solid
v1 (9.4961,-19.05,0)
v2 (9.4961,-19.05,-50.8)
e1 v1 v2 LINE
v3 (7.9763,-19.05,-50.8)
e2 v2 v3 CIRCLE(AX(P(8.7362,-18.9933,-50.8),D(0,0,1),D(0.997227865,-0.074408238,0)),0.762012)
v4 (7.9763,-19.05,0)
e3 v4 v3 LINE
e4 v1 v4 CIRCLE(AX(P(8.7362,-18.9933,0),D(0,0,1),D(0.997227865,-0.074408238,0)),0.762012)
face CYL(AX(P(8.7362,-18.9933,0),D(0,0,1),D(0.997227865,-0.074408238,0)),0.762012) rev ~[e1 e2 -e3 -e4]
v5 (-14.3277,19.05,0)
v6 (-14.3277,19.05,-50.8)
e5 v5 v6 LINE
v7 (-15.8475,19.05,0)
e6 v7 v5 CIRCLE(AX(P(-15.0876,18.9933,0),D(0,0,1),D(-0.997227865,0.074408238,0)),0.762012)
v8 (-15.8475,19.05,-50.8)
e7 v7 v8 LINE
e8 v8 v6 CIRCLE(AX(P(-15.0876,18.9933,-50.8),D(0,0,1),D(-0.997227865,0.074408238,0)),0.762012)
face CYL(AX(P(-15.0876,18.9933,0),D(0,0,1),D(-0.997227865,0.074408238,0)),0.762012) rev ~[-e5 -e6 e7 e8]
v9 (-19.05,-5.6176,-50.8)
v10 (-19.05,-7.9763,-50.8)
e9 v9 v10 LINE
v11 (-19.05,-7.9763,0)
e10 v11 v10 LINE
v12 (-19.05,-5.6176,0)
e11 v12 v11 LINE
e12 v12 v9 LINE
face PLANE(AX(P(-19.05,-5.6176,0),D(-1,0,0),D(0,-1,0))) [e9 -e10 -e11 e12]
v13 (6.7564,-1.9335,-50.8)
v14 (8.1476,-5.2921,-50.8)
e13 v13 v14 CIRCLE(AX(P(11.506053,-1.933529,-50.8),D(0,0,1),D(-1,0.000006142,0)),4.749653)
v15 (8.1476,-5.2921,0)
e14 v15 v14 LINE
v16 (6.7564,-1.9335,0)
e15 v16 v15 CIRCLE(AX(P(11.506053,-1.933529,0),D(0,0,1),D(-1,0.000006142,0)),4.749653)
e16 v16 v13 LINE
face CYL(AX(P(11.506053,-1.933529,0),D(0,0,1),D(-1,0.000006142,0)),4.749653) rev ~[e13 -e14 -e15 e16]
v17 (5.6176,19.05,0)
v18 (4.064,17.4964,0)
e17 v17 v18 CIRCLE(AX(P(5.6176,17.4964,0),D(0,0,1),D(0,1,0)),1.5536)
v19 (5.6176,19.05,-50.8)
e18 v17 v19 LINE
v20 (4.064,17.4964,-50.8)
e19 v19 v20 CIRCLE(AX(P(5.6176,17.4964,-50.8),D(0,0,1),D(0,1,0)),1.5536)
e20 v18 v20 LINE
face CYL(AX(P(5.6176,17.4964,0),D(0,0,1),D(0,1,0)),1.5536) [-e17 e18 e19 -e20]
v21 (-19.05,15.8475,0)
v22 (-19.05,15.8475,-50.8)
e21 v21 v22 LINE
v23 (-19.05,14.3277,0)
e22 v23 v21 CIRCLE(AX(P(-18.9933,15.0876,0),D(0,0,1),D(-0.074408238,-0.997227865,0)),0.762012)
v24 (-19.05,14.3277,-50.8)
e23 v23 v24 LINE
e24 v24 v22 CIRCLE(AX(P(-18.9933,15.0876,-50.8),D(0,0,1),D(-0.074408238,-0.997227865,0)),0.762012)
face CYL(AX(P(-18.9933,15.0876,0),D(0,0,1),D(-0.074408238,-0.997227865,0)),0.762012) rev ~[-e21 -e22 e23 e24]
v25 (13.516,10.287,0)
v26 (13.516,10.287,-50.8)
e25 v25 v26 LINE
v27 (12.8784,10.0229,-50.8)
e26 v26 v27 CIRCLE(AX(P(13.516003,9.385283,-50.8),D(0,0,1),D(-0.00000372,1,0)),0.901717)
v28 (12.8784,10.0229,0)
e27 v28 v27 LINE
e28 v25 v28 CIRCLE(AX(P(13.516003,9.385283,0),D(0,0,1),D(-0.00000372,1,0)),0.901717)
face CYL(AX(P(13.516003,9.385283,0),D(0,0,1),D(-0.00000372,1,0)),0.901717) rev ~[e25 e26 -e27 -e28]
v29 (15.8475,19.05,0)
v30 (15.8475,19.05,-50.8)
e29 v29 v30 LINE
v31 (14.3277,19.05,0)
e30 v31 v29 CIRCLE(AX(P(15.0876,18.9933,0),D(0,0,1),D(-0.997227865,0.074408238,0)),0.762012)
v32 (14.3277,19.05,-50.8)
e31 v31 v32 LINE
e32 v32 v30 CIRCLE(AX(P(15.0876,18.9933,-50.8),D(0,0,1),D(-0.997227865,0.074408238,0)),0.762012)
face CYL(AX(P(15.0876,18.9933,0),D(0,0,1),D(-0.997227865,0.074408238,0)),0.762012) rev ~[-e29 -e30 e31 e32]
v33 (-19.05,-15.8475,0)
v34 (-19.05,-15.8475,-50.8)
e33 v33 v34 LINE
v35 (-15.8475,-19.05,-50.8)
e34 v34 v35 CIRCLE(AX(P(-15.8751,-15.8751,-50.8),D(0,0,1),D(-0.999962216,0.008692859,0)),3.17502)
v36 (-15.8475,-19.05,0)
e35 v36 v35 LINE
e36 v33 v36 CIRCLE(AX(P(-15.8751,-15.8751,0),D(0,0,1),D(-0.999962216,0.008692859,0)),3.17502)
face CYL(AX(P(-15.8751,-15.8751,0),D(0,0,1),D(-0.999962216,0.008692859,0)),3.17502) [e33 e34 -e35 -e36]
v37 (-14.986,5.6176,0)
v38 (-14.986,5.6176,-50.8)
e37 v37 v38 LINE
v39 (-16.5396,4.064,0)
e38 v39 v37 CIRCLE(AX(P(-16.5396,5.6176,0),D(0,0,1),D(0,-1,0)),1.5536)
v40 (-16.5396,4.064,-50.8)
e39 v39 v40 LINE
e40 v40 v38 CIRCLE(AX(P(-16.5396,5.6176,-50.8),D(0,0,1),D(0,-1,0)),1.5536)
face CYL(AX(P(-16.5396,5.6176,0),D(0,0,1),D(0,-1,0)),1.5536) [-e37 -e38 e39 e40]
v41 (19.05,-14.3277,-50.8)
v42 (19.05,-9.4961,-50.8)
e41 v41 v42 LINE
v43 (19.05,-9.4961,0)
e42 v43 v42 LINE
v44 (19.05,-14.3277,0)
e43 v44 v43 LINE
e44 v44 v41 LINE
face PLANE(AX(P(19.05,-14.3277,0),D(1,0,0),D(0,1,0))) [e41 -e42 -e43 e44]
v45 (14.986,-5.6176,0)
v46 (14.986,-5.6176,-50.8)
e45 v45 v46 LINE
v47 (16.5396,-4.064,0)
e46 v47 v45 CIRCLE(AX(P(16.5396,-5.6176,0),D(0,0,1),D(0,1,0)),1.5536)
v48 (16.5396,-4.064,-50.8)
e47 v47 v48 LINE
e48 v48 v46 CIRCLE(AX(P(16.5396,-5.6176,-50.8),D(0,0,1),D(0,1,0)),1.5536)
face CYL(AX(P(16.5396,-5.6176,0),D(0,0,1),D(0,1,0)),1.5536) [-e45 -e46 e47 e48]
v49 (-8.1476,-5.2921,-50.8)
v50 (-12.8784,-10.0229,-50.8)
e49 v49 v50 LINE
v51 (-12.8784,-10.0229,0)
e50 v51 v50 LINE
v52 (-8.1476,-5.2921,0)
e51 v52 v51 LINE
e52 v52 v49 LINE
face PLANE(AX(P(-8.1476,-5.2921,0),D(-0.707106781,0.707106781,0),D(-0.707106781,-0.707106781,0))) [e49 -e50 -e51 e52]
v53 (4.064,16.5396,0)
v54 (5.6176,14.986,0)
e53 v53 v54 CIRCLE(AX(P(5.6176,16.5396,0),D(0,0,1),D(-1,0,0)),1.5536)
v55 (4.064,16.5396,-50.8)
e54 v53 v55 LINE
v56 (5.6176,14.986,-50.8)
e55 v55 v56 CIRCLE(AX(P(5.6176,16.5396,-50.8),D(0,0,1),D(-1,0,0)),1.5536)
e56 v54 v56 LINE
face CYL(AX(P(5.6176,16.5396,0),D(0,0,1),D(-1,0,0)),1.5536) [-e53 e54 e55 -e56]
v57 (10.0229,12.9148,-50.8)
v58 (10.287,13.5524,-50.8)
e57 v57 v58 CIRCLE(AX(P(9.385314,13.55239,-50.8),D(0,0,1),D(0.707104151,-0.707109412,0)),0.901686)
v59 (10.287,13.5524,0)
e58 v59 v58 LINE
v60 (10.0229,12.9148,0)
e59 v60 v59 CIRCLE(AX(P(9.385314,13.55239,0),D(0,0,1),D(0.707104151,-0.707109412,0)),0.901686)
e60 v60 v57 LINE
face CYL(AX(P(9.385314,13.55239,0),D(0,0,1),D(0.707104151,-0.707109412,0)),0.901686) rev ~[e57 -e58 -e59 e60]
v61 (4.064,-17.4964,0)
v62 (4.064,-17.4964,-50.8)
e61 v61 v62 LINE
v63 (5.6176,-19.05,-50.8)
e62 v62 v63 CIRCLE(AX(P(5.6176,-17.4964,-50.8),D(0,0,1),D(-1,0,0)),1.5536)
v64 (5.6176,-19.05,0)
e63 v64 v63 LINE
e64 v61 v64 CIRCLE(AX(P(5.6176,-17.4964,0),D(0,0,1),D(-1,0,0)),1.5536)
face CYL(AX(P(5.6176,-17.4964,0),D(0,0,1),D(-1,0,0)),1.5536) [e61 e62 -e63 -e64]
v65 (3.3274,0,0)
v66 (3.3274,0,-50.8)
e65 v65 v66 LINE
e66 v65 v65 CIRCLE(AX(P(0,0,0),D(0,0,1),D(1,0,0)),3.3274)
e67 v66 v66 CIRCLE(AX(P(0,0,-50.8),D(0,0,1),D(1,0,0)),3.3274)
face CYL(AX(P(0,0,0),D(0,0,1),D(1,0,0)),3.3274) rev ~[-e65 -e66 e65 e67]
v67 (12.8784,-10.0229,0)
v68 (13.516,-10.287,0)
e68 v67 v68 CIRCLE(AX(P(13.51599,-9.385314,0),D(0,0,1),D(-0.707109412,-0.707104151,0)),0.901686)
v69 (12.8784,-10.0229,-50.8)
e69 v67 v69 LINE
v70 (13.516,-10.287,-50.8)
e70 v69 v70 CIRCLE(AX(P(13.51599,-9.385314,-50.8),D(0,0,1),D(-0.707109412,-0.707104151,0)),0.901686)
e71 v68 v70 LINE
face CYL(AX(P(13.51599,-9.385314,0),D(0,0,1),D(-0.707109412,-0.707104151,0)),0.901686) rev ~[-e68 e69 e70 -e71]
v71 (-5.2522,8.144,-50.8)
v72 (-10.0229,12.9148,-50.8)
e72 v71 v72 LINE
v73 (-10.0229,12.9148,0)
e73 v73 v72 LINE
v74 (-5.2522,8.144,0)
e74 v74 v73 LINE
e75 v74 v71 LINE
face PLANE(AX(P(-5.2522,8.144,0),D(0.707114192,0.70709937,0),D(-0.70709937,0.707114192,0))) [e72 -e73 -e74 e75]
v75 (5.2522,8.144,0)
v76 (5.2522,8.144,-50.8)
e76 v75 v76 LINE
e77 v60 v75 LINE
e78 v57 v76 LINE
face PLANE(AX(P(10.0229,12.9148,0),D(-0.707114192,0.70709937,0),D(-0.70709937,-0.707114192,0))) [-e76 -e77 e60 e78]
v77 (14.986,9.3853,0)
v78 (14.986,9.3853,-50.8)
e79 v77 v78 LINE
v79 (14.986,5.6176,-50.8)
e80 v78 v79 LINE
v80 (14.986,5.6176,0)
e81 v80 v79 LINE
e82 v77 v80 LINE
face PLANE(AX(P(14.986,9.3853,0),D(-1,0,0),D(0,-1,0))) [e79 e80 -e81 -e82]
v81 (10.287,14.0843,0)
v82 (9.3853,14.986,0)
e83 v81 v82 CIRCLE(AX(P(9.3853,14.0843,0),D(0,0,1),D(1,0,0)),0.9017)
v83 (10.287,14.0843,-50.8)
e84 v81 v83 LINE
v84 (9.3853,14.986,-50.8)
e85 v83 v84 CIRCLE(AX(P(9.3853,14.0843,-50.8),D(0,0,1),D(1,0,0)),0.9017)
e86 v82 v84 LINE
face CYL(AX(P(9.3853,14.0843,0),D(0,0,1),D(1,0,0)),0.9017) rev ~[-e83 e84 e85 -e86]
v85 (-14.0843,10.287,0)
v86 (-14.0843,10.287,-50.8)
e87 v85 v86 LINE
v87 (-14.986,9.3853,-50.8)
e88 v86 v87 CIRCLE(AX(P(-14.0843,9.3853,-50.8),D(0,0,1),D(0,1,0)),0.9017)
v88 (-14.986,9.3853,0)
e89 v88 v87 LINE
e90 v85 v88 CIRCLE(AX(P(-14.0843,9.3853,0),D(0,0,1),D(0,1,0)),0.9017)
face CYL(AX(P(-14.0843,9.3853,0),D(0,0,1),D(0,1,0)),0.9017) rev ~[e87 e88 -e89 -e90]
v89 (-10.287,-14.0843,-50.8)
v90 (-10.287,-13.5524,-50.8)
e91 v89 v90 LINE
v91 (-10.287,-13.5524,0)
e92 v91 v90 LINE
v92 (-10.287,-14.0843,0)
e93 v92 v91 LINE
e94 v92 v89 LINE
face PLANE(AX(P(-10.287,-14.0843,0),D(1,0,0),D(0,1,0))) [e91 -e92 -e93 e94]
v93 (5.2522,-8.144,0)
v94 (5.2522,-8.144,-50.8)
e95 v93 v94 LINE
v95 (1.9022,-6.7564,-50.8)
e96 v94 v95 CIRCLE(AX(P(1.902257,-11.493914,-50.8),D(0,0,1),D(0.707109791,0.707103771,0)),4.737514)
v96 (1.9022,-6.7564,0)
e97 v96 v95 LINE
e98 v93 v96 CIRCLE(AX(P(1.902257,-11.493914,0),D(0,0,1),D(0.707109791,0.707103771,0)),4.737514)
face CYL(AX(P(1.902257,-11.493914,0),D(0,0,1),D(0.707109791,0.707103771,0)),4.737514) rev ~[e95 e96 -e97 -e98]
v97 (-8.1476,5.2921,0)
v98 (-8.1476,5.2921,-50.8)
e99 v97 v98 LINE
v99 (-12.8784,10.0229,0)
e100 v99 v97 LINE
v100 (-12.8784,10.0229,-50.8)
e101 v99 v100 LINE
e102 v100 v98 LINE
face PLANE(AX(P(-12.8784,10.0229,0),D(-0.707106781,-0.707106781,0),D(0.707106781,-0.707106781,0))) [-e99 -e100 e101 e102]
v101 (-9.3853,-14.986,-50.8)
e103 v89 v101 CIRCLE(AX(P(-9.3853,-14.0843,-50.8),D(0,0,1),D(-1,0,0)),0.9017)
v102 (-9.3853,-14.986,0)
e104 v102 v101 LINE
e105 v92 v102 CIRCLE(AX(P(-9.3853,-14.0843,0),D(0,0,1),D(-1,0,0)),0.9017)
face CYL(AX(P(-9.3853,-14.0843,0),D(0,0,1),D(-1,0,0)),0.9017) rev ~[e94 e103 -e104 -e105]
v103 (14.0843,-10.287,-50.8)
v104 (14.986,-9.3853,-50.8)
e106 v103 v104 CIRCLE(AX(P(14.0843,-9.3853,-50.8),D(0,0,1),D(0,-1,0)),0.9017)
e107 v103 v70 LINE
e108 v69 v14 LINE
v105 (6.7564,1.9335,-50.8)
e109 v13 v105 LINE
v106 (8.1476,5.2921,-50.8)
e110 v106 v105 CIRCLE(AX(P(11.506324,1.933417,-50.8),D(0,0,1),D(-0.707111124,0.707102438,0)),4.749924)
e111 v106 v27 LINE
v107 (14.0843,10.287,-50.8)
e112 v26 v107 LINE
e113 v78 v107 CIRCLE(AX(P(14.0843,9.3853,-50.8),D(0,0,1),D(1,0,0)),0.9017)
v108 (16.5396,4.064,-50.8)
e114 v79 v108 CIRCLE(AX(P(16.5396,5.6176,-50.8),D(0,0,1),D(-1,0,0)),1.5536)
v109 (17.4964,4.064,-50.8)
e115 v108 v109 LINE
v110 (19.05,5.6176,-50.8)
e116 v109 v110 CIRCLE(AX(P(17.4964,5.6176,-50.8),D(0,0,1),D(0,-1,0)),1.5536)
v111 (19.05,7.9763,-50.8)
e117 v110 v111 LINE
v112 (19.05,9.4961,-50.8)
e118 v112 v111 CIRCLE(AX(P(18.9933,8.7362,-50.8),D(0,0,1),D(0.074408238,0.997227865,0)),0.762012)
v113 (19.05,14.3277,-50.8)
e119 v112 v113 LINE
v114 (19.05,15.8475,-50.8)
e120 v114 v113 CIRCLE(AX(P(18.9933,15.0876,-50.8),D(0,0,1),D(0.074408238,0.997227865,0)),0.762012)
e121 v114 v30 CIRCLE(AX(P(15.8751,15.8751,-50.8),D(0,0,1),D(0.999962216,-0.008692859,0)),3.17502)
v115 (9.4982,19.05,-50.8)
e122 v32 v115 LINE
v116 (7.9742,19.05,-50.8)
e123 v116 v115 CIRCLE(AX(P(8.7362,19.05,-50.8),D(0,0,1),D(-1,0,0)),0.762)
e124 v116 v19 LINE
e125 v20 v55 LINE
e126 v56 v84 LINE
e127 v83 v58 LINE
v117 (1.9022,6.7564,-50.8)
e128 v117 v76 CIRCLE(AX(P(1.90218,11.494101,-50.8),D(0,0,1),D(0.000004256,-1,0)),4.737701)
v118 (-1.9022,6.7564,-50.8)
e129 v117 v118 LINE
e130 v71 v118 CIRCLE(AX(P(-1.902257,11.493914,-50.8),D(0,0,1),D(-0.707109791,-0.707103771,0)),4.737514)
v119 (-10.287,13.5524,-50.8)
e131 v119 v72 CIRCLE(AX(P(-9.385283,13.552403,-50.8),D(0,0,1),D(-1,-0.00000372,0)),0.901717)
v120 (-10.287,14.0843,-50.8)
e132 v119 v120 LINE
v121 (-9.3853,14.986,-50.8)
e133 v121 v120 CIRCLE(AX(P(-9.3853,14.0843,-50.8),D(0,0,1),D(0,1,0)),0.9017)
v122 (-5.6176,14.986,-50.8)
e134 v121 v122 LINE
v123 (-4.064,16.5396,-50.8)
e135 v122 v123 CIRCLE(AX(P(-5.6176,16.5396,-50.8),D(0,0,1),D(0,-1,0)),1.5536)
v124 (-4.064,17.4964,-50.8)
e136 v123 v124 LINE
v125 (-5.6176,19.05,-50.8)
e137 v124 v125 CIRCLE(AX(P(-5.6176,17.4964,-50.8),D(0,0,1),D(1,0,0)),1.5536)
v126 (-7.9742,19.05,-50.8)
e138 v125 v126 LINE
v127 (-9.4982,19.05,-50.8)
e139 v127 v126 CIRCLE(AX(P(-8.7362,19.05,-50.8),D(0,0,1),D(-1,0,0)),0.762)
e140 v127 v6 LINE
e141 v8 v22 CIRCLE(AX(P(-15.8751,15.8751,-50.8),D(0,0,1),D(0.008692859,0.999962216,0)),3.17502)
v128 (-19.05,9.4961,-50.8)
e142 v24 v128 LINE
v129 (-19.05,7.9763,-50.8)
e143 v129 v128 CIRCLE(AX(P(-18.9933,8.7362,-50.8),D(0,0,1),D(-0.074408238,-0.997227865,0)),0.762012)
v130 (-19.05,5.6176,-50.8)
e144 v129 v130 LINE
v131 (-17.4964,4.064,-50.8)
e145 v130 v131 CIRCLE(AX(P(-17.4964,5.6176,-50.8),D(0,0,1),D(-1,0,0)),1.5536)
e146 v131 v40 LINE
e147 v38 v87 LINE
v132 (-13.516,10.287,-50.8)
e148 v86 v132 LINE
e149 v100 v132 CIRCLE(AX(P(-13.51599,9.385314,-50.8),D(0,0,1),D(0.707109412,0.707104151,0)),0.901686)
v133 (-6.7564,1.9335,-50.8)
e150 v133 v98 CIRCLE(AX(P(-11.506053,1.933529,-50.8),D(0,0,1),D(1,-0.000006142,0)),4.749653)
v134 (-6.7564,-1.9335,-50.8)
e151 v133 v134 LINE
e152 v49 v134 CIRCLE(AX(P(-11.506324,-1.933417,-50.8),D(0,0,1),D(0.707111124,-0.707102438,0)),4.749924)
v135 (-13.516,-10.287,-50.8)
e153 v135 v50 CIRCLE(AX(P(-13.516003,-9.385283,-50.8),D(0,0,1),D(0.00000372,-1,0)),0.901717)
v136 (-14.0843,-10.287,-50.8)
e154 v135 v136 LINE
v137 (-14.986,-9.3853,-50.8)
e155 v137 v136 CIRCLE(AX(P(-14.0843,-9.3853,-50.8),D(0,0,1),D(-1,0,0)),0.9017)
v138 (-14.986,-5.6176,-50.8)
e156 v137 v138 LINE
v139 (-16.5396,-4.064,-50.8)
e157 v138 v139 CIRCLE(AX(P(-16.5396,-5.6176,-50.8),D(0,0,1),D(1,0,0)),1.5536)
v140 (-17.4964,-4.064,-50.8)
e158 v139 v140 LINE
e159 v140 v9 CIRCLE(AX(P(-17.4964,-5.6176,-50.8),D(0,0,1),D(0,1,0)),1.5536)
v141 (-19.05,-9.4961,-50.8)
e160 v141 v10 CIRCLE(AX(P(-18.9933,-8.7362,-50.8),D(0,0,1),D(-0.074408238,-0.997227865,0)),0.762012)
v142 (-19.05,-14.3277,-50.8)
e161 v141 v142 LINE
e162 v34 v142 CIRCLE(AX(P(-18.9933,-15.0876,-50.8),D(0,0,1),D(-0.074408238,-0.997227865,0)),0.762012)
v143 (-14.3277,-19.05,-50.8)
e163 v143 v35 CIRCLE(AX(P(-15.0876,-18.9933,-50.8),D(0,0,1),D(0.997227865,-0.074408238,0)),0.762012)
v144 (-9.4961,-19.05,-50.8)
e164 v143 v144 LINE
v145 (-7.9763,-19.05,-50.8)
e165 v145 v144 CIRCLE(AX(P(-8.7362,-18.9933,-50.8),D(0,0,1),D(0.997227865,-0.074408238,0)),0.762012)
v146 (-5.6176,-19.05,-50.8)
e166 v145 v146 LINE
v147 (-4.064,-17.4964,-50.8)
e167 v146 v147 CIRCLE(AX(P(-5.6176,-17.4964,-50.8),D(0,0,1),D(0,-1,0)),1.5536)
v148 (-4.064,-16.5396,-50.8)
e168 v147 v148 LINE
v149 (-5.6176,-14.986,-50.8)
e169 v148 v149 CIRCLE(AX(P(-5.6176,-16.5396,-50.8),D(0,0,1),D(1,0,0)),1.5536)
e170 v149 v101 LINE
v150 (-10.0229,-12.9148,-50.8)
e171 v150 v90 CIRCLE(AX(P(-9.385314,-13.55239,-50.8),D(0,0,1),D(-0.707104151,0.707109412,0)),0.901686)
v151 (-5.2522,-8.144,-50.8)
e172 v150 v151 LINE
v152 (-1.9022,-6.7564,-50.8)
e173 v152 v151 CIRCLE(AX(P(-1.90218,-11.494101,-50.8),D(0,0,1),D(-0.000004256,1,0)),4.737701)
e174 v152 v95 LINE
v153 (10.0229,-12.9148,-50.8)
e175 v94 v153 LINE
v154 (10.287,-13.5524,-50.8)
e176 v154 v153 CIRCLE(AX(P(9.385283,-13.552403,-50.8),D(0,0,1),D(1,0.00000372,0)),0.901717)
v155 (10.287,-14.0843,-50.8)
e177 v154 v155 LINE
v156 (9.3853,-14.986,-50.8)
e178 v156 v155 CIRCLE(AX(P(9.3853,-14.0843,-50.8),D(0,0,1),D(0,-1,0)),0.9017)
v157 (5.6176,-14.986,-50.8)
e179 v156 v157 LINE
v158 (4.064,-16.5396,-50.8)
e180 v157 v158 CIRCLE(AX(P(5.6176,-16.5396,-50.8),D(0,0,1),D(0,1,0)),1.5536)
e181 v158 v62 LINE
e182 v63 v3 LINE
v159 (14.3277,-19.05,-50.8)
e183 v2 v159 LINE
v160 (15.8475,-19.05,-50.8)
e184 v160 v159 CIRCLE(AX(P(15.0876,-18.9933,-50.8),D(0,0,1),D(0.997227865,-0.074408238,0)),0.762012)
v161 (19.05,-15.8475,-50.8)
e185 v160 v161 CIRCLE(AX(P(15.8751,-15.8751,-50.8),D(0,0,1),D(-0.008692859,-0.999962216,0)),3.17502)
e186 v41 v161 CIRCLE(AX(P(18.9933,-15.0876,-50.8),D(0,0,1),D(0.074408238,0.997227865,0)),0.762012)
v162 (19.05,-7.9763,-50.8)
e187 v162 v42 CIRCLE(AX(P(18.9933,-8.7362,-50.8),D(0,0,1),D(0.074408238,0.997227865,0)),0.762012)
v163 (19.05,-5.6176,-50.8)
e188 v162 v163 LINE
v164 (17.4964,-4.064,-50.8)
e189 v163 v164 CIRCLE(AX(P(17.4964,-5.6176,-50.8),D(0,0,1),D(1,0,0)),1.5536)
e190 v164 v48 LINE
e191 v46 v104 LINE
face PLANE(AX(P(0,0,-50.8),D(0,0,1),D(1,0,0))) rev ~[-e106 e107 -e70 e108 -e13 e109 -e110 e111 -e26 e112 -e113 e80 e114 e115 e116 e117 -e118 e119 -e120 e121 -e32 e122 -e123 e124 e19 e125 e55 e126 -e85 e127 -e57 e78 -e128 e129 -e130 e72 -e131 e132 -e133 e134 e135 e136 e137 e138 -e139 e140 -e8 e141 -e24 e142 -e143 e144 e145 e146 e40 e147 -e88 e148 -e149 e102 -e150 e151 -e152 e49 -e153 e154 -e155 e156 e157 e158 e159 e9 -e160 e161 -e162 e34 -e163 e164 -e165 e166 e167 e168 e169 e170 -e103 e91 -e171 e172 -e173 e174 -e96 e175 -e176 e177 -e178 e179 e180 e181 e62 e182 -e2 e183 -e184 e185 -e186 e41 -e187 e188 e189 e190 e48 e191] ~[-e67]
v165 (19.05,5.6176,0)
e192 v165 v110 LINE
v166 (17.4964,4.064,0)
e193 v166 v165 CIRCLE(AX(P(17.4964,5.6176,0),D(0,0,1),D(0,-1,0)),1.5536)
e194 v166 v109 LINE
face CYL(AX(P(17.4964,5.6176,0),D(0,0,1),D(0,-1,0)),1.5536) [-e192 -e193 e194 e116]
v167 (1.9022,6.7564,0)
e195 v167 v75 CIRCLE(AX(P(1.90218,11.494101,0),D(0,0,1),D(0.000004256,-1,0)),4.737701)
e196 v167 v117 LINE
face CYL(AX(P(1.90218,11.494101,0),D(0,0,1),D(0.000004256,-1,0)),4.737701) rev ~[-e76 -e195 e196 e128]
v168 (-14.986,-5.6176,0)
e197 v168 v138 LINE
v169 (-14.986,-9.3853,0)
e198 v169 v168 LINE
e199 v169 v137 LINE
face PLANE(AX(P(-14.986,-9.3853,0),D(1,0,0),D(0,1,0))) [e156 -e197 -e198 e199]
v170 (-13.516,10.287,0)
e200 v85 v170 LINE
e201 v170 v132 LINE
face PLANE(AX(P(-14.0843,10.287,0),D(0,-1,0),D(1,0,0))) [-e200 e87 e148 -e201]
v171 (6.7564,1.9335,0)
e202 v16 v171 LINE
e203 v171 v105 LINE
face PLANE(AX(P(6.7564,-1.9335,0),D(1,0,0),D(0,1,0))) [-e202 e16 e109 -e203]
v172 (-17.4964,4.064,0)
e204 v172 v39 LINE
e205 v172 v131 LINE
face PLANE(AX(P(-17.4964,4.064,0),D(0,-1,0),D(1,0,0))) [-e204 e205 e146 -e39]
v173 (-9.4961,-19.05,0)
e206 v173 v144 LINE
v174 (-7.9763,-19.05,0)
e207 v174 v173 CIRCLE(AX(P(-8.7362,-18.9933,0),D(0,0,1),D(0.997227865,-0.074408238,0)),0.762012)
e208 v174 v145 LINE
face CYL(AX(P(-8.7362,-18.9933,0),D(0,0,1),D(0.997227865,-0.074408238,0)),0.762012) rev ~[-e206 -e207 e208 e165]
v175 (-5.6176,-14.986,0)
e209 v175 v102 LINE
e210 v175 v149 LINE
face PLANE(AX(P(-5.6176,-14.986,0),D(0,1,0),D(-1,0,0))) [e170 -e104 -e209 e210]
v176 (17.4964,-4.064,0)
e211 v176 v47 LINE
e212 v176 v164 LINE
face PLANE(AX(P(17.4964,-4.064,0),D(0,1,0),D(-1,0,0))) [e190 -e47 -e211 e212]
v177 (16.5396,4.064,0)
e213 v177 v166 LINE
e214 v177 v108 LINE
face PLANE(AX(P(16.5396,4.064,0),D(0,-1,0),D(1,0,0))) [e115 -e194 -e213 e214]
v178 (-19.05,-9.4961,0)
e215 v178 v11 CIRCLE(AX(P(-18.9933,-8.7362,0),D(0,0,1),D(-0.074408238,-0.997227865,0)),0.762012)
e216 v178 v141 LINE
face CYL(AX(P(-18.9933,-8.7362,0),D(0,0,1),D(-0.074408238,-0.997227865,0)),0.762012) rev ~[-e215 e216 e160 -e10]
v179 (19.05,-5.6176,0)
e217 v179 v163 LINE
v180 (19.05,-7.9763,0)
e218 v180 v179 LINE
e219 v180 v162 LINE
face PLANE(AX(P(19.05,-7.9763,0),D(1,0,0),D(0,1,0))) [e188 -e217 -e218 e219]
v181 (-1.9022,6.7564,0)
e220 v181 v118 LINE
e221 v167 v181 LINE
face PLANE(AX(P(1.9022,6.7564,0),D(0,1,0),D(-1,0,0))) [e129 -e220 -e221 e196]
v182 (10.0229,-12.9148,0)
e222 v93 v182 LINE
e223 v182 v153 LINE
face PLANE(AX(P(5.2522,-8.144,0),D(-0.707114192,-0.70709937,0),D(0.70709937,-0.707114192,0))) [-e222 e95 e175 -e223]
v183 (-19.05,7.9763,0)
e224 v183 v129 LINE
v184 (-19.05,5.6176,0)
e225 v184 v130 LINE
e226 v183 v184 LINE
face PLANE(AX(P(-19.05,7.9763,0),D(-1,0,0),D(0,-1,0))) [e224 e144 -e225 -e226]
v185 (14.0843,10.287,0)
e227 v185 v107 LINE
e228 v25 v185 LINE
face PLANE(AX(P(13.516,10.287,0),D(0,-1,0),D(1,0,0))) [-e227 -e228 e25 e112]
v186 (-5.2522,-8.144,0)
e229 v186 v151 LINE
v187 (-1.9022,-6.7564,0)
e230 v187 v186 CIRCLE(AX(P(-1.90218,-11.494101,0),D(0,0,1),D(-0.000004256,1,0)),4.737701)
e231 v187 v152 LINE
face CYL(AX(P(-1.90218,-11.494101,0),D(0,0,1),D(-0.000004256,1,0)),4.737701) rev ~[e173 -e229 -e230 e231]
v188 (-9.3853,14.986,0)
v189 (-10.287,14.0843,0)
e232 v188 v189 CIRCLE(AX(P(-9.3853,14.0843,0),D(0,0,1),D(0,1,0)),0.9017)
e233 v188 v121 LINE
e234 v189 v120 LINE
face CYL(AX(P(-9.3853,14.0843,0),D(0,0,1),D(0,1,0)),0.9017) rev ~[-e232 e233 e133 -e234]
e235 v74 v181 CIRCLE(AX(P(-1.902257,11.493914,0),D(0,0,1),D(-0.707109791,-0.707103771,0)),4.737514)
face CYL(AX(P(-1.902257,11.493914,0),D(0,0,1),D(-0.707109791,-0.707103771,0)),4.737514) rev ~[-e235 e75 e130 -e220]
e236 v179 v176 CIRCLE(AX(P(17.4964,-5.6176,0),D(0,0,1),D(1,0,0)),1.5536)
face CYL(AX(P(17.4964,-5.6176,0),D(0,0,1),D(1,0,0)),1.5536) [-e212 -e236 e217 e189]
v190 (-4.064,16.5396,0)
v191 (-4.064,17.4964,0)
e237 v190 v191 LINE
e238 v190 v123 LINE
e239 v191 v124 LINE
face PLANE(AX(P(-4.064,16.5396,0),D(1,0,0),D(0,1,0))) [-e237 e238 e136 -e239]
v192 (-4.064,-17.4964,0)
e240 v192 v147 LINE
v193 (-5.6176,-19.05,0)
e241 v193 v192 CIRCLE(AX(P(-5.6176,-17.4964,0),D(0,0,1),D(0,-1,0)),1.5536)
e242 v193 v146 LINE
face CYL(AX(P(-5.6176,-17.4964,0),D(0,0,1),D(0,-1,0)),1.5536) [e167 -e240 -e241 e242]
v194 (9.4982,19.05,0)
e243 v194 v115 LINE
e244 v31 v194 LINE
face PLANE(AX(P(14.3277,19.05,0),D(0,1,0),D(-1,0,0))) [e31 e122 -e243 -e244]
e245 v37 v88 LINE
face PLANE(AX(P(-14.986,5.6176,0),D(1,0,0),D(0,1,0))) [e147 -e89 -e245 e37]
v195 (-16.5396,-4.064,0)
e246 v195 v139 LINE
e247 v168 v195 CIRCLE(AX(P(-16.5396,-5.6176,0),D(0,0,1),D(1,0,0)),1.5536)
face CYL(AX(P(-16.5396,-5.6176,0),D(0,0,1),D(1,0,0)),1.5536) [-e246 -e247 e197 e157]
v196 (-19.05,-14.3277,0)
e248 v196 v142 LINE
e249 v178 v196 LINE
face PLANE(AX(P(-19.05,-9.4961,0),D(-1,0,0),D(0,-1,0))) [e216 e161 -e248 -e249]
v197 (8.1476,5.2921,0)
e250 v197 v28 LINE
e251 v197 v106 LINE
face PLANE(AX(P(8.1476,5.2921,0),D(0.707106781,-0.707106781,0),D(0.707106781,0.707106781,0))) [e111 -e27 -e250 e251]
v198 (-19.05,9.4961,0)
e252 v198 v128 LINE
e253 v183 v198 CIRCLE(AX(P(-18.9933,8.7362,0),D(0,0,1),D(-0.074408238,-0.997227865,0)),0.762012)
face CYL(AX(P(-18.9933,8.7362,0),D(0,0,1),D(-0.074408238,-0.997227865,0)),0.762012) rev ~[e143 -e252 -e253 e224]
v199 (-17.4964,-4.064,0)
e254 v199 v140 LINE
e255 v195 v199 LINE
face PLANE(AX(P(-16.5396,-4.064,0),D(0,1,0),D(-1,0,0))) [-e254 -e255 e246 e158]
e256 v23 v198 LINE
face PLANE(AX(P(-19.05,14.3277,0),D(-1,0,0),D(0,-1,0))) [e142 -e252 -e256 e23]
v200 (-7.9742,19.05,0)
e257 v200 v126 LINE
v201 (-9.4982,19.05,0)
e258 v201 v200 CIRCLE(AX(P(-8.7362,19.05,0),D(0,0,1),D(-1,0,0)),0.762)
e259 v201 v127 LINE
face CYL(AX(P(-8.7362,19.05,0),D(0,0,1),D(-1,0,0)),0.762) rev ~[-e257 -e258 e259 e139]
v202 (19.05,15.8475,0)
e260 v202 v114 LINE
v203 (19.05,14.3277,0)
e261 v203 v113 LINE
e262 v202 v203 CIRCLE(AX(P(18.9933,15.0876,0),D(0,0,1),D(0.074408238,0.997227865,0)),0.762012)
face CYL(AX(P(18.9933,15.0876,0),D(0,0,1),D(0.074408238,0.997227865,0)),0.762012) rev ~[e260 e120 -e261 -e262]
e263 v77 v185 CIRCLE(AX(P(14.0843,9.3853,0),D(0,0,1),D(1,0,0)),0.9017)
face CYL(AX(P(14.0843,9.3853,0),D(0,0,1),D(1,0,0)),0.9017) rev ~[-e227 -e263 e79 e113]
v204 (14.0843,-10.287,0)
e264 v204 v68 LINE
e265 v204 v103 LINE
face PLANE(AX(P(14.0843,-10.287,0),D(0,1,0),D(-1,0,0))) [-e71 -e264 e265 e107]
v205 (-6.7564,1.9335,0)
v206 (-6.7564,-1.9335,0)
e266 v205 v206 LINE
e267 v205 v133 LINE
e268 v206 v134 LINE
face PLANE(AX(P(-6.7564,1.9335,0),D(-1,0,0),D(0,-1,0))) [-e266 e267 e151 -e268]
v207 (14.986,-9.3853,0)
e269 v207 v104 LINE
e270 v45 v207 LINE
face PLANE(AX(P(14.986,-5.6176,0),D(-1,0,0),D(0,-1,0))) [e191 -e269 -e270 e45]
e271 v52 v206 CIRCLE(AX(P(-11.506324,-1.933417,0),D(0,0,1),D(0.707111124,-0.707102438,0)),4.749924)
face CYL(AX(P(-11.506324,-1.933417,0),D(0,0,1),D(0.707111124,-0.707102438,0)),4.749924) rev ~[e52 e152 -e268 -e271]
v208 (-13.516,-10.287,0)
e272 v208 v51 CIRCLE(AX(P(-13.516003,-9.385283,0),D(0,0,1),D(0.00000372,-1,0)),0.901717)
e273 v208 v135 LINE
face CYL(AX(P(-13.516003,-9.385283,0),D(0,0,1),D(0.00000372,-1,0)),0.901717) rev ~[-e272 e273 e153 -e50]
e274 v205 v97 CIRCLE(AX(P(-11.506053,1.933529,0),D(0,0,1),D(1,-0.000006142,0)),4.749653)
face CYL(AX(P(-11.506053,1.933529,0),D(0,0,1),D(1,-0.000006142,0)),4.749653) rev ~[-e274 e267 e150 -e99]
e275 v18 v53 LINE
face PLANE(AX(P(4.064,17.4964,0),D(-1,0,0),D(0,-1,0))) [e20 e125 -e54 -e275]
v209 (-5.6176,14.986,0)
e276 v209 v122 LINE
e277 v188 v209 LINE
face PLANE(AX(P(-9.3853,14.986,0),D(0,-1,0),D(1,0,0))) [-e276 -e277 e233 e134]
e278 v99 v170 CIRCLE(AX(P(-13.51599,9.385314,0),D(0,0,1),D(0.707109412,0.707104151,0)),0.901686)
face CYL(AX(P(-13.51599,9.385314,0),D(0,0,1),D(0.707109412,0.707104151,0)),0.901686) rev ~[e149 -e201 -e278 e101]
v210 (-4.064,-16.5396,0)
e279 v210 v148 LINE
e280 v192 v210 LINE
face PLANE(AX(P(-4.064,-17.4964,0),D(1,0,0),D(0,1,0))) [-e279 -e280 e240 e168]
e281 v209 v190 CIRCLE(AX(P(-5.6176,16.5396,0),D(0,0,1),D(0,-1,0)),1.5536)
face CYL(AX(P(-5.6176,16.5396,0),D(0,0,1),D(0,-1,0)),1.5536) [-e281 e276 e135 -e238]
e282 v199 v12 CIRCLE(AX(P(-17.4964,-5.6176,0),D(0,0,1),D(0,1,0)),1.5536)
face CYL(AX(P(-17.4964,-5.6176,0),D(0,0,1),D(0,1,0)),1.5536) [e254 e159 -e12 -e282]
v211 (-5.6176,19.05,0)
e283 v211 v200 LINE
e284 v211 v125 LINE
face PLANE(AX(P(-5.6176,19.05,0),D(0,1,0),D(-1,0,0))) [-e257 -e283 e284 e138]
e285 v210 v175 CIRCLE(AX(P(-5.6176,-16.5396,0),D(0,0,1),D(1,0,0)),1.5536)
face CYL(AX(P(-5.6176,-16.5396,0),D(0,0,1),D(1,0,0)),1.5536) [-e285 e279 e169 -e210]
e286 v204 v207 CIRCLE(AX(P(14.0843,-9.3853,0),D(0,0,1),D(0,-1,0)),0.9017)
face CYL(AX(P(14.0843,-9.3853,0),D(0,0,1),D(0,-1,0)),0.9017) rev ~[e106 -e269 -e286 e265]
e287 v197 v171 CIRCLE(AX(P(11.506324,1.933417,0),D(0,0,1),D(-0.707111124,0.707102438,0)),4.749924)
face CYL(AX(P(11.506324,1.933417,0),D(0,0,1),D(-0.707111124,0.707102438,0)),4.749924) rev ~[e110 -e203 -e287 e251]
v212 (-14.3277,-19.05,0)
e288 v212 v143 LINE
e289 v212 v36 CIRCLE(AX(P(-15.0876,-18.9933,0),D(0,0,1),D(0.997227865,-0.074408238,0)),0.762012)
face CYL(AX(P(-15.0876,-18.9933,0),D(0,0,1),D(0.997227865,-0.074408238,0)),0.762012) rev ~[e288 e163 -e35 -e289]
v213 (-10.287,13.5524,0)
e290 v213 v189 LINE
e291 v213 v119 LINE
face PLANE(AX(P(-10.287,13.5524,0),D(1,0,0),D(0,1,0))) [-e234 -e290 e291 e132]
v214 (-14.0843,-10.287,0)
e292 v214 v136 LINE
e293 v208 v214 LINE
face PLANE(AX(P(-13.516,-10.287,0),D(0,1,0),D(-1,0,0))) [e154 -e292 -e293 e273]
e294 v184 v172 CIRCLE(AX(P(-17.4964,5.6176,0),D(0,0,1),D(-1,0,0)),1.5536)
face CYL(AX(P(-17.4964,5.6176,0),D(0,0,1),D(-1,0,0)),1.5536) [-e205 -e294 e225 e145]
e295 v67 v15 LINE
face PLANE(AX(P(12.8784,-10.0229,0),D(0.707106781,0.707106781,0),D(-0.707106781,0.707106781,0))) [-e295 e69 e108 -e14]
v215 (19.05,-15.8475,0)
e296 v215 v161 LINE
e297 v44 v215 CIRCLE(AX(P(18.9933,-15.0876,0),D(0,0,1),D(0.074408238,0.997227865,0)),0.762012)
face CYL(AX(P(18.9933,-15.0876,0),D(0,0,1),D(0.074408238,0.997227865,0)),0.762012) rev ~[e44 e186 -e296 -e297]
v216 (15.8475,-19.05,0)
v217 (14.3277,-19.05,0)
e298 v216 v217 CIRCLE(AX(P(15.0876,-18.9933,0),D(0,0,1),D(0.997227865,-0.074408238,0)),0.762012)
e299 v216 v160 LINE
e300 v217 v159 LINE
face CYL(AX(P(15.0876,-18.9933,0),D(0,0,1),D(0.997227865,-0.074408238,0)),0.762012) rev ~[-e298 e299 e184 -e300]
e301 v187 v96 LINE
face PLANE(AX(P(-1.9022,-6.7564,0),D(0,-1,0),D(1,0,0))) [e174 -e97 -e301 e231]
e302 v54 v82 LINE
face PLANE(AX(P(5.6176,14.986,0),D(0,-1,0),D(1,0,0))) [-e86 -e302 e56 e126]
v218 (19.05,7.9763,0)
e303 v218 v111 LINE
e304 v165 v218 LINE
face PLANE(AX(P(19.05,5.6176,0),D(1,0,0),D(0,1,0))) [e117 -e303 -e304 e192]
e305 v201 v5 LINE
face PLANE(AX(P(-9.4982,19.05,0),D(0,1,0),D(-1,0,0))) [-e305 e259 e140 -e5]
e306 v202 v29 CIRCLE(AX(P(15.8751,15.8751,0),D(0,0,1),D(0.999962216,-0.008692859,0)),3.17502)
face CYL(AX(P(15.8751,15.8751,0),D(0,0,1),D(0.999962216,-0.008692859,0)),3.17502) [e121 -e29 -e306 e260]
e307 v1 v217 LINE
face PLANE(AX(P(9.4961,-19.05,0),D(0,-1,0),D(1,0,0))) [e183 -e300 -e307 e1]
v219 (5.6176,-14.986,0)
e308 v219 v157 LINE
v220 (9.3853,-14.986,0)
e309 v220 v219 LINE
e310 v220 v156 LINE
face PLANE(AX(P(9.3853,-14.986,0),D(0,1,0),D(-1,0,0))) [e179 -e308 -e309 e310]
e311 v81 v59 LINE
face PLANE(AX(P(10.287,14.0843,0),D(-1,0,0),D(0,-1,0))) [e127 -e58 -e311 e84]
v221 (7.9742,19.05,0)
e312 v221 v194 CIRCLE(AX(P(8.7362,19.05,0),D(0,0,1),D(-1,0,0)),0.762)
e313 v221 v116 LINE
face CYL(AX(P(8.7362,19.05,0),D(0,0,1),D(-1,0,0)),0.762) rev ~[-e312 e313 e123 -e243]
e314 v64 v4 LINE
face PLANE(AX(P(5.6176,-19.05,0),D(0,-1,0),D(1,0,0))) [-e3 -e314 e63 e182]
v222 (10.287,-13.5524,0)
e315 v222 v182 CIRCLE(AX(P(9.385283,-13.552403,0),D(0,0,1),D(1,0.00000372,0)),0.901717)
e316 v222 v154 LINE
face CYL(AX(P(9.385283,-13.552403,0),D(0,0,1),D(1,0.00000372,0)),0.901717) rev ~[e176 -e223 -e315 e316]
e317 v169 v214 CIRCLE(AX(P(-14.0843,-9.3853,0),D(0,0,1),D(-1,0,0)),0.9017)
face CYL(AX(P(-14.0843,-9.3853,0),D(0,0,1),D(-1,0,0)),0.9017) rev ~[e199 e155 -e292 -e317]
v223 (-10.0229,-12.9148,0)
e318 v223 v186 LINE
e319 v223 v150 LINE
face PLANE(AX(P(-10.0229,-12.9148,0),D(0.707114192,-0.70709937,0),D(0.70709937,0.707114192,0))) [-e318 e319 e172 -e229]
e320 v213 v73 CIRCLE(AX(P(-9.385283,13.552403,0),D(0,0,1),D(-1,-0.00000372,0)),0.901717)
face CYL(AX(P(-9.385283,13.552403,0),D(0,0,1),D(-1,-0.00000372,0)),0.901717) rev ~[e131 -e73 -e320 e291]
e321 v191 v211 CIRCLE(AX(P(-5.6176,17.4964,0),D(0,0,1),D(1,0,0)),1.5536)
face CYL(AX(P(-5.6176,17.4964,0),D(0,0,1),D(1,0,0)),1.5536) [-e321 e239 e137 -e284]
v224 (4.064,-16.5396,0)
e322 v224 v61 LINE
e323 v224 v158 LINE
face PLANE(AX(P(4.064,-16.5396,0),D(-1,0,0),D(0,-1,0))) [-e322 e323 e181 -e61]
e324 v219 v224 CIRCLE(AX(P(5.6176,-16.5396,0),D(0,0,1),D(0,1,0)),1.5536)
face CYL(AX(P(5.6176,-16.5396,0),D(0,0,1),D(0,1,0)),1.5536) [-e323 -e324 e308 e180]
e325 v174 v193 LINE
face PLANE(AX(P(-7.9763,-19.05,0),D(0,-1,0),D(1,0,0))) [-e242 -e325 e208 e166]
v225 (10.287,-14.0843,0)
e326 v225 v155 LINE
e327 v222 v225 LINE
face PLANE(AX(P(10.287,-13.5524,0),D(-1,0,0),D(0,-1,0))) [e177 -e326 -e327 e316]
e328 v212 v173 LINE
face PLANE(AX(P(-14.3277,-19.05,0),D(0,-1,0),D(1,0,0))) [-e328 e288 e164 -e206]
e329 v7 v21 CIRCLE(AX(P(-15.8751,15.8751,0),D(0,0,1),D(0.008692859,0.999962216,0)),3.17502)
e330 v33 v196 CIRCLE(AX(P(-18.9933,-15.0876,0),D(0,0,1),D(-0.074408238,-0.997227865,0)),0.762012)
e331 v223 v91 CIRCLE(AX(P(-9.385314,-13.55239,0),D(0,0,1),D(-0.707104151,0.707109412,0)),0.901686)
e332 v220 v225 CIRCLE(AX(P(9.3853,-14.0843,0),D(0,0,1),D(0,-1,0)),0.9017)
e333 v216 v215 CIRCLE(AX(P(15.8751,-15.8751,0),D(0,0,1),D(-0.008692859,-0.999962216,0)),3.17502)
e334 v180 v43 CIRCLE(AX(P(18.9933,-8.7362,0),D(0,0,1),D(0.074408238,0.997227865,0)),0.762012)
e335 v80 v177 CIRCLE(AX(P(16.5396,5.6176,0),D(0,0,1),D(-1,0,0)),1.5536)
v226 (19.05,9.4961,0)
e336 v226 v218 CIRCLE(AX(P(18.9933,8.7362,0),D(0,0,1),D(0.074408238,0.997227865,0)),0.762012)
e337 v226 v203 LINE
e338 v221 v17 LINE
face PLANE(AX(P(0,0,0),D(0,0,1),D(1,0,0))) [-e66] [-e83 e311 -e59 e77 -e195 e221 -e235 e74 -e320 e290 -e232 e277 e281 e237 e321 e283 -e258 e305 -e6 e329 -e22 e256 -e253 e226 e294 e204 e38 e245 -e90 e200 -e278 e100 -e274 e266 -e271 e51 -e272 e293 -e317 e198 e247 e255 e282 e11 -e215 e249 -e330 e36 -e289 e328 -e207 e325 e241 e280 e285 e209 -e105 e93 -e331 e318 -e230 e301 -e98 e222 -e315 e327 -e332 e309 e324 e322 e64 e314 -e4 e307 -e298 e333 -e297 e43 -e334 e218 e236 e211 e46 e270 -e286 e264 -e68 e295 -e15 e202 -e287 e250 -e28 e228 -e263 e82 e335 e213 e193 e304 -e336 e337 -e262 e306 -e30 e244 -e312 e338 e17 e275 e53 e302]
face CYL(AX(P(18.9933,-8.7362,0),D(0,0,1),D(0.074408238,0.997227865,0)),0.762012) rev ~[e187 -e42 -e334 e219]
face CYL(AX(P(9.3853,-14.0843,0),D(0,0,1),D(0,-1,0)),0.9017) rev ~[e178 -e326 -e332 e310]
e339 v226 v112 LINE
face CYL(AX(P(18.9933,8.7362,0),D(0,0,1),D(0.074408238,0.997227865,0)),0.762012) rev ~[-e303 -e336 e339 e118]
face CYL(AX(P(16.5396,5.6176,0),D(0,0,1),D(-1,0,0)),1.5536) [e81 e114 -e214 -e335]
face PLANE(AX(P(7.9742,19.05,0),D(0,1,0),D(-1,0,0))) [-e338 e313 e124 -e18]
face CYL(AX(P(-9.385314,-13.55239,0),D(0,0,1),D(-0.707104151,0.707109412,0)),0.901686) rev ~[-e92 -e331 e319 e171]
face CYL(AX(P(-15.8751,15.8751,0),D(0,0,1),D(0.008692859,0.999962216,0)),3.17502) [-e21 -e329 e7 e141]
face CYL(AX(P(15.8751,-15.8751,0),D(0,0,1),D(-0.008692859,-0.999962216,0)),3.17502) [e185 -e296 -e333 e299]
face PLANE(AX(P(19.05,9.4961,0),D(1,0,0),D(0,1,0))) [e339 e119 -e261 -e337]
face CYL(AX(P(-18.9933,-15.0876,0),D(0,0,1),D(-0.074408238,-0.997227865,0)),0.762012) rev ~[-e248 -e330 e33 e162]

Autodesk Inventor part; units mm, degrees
sketch "Sketch_1" plane through (0, 0, 0) normal (0, 0, 1) x (1, 0, 0)
  arc A0 (-15.8475, 19.05) -> (-19.05, 15.8475) centre (-15.8751, 15.8751) ccw
  arc A1 (-19.05, 14.3277) -> (-19.05, 15.8475) centre (-18.9933, 15.0876) ccw
  line L0 (-19.05, 14.3277) -> (-19.05, 9.4961)
  arc A2 (-19.05, 7.9763) -> (-19.05, 9.4961) centre (-18.9933, 8.7362) ccw
  line L1 (-19.05, 7.9763) -> (-19.05, 5.6176)
  arc A3 (-19.05, 5.6176) -> (-17.4964, 4.064) centre (-17.4964, 5.6176) ccw
  line L2 (-17.4964, 4.064) -> (-16.5396, 4.064)
  arc A4 (-16.5396, 4.064) -> (-14.986, 5.6176) centre (-16.5396, 5.6176) ccw
  line L3 (-14.986, 5.6176) -> (-14.986, 9.3853)
  arc A5 (-14.0843, 10.287) -> (-14.986, 9.3853) centre (-14.0843, 9.3853) ccw
  line L4 (-14.0843, 10.287) -> (-13.516, 10.287)
  arc A6 (-12.8784, 10.0229) -> (-13.516, 10.287) centre (-13.516, 9.3853) ccw
  line L5 (-12.8784, 10.0229) -> (-8.1476, 5.2921)
  arc A7 (-6.7564, 1.9335) -> (-8.1476, 5.2921) centre (-11.5062, 1.9335) ccw
  line L6 (-6.7564, 1.9335) -> (-6.7564, -1.9335)
  arc A8 (-8.1476, -5.2921) -> (-6.7564, -1.9335) centre (-11.5062, -1.9335) ccw
  line L7 (-8.1476, -5.2921) -> (-12.8784, -10.0229)
  arc A9 (-13.516, -10.287) -> (-12.8784, -10.0229) centre (-13.516, -9.3853) ccw
  line L8 (-13.516, -10.287) -> (-14.0843, -10.287)
  arc A10 (-14.986, -9.3853) -> (-14.0843, -10.287) centre (-14.0843, -9.3853) ccw
  line L9 (-14.986, -9.3853) -> (-14.986, -5.6176)
  arc A11 (-14.986, -5.6176) -> (-16.5396, -4.064) centre (-16.5396, -5.6176) ccw
  line L10 (-16.5396, -4.064) -> (-17.4964, -4.064)
  arc A12 (-17.4964, -4.064) -> (-19.05, -5.6176) centre (-17.4964, -5.6176) ccw
  line L11 (-19.05, -5.6176) -> (-19.05, -7.9763)
  arc A13 (-19.05, -9.4961) -> (-19.05, -7.9763) centre (-18.9933, -8.7362) ccw
  line L12 (-19.05, -9.4961) -> (-19.05, -14.3277)
  arc A14 (-19.05, -15.8475) -> (-19.05, -14.3277) centre (-18.9933, -15.0876) ccw
  arc A15 (-19.05, -15.8475) -> (-15.8475, -19.05) centre (-15.8751, -15.8751) ccw
  arc A16 (-14.3277, -19.05) -> (-15.8475, -19.05) centre (-15.0876, -18.9933) ccw
  line L13 (-14.3277, -19.05) -> (-9.4961, -19.05)
  arc A17 (-7.9763, -19.05) -> (-9.4961, -19.05) centre (-8.7362, -18.9933) ccw
  line L14 (-7.9763, -19.05) -> (-5.6176, -19.05)
  arc A18 (-5.6176, -19.05) -> (-4.064, -17.4964) centre (-5.6176, -17.4964) ccw
  line L15 (-4.064, -17.4964) -> (-4.064, -16.5396)
  arc A19 (-4.064, -16.5396) -> (-5.6176, -14.986) centre (-5.6176, -16.5396) ccw
  line L16 (-5.6176, -14.986) -> (-9.3853, -14.986)
  arc A20 (-10.287, -14.0843) -> (-9.3853, -14.986) centre (-9.3853, -14.0843) ccw
  line L17 (-10.287, -14.0843) -> (-10.287, -13.5524)
  arc A21 (-10.0229, -12.9148) -> (-10.287, -13.5524) centre (-9.3853, -13.5524) ccw
  line L18 (-10.0229, -12.9148) -> (-5.2522, -8.144)
  arc A22 (-1.9022, -6.7564) -> (-5.2522, -8.144) centre (-1.9022, -11.494) ccw
  line L19 (-1.9022, -6.7564) -> (1.9022, -6.7564)
  arc A23 (5.2522, -8.144) -> (1.9022, -6.7564) centre (1.9022, -11.494) ccw
  line L20 (5.2522, -8.144) -> (10.0229, -12.9148)
  arc A24 (10.287, -13.5524) -> (10.0229, -12.9148) centre (9.3853, -13.5524) ccw
  line L21 (10.287, -13.5524) -> (10.287, -14.0843)
  arc A25 (9.3853, -14.986) -> (10.287, -14.0843) centre (9.3853, -14.0843) ccw
  line L22 (9.3853, -14.986) -> (5.6176, -14.986)
  arc A26 (5.6176, -14.986) -> (4.064, -16.5396) centre (5.6176, -16.5396) ccw
  line L23 (4.064, -16.5396) -> (4.064, -17.4964)
  arc A27 (4.064, -17.4964) -> (5.6176, -19.05) centre (5.6176, -17.4964) ccw
  line L24 (5.6176, -19.05) -> (7.9763, -19.05)
  arc A28 (9.4961, -19.05) -> (7.9763, -19.05) centre (8.7362, -18.9933) ccw
  line L25 (9.4961, -19.05) -> (14.3277, -19.05)
  arc A29 (15.8475, -19.05) -> (14.3277, -19.05) centre (15.0876, -18.9933) ccw
  arc A30 (15.8475, -19.05) -> (19.05, -15.8475) centre (15.8751, -15.8751) ccw
  arc A31 (19.05, -14.3277) -> (19.05, -15.8475) centre (18.9933, -15.0876) ccw
  line L26 (19.05, -14.3277) -> (19.05, -9.4961)
  arc A32 (19.05, -7.9763) -> (19.05, -9.4961) centre (18.9933, -8.7362) ccw
  line L27 (19.05, -7.9763) -> (19.05, -5.6176)
  arc A33 (19.05, -5.6176) -> (17.4964, -4.064) centre (17.4964, -5.6176) ccw
  line L28 (17.4964, -4.064) -> (16.5396, -4.064)
  arc A34 (16.5396, -4.064) -> (14.986, -5.6176) centre (16.5396, -5.6176) ccw
  line L29 (14.986, -5.6176) -> (14.986, -9.3853)
  arc A35 (14.0843, -10.287) -> (14.986, -9.3853) centre (14.0843, -9.3853) ccw
  line L30 (14.0843, -10.287) -> (13.516, -10.287)
  arc A36 (12.8784, -10.0229) -> (13.516, -10.287) centre (13.516, -9.3853) ccw
  line L31 (12.8784, -10.0229) -> (8.1476, -5.2921)
  arc A37 (6.7564, -1.9335) -> (8.1476, -5.2921) centre (11.5062, -1.9335) ccw
  line L32 (6.7564, -1.9335) -> (6.7564, 1.9335)
  arc A38 (8.1476, 5.2921) -> (6.7564, 1.9335) centre (11.5062, 1.9335) ccw
  line L33 (8.1476, 5.2921) -> (12.8784, 10.0229)
  arc A39 (13.516, 10.287) -> (12.8784, 10.0229) centre (13.516, 9.3853) ccw
  line L34 (13.516, 10.287) -> (14.0843, 10.287)
  arc A40 (14.986, 9.3853) -> (14.0843, 10.287) centre (14.0843, 9.3853) ccw
  line L35 (14.986, 9.3853) -> (14.986, 5.6176)
  arc A41 (14.986, 5.6176) -> (16.5396, 4.064) centre (16.5396, 5.6176) ccw
  line L36 (16.5396, 4.064) -> (17.4964, 4.064)
  arc A42 (17.4964, 4.064) -> (19.05, 5.6176) centre (17.4964, 5.6176) ccw
  line L37 (19.05, 5.6176) -> (19.05, 7.9763)
  arc A43 (19.05, 9.4961) -> (19.05, 7.9763) centre (18.9933, 8.7362) ccw
  line L38 (19.05, 9.4961) -> (19.05, 14.3277)
  arc A44 (19.05, 15.8475) -> (19.05, 14.3277) centre (18.9933, 15.0876) ccw
  arc A45 (19.05, 15.8475) -> (15.8475, 19.05) centre (15.8751, 15.8751) ccw
  arc A46 (14.3277, 19.05) -> (15.8475, 19.05) centre (15.0876, 18.9933) ccw
  line L39 (14.3277, 19.05) -> (9.4982, 19.05)
  arc A47 (7.9742, 19.05) -> (9.4982, 19.05) centre (8.7362, 19.05) ccw
  line L40 (7.9742, 19.05) -> (5.6176, 19.05)
  arc A48 (5.6176, 19.05) -> (4.064, 17.4964) centre (5.6176, 17.4964) ccw
  line L41 (4.064, 17.4964) -> (4.064, 16.5396)
  arc A49 (4.064, 16.5396) -> (5.6176, 14.986) centre (5.6176, 16.5396) ccw
  line L42 (5.6176, 14.986) -> (9.3853, 14.986)
  arc A50 (10.287, 14.0843) -> (9.3853, 14.986) centre (9.3853, 14.0843) ccw
  line L43 (10.287, 14.0843) -> (10.287, 13.5524)
  arc A51 (10.0229, 12.9148) -> (10.287, 13.5524) centre (9.3853, 13.5524) ccw
  line L44 (10.0229, 12.9148) -> (5.2522, 8.144)
  arc A52 (1.9022, 6.7564) -> (5.2522, 8.144) centre (1.9022, 11.494) ccw
  line L45 (1.9022, 6.7564) -> (-1.9022, 6.7564)
  arc A53 (-5.2522, 8.144) -> (-1.9022, 6.7564) centre (-1.9022, 11.494) ccw
  line L46 (-5.2522, 8.144) -> (-10.0229, 12.9148)
  arc A54 (-10.287, 13.5524) -> (-10.0229, 12.9148) centre (-9.3853, 13.5524) ccw
  line L47 (-10.287, 13.5524) -> (-10.287, 14.0843)
  arc A55 (-9.3853, 14.986) -> (-10.287, 14.0843) centre (-9.3853, 14.0843) ccw
  line L48 (-9.3853, 14.986) -> (-5.6176, 14.986)
  arc A56 (-5.6176, 14.986) -> (-4.064, 16.5396) centre (-5.6176, 16.5396) ccw
  line L49 (-4.064, 16.5396) -> (-4.064, 17.4964)
  arc A57 (-4.064, 17.4964) -> (-5.6176, 19.05) centre (-5.6176, 17.4964) ccw
  line L50 (-5.6176, 19.05) -> (-7.9742, 19.05)
  arc A58 (-9.4982, 19.05) -> (-7.9742, 19.05) centre (-8.7362, 19.05) ccw
  line L51 (-9.4982, 19.05) -> (-14.3277, 19.05)
  arc A59 (-15.8475, 19.05) -> (-14.3277, 19.05) centre (-15.0876, 18.9933) ccw
  circle A60 centre (0, 0) radius 3.3274
extrude "Extrusion1" add sketch "Sketch_1" against normal blind 50.8
ref_plane "b1_XY" through (-19.05, 0, -25.4) normal (1, 0, 0) x (0, 0, -1)
ref_plane "b1_YZ" through (-19.05, 0, -25.4) normal (0, 0, -1) x (0, 1, 0)
ref_plane "b1_ZX" through (-19.05, 0, -25.4) normal (0, 1, 0) x (1, 0, 0)
ref_plane "b2_XY" through (19.05, 0, -25.4) normal (1, 0, 0) x (0, 0, -1)
ref_plane "b2_YZ" through (19.05, 0, -25.4) normal (0, 0, -1) x (0, 1, 0)
ref_plane "b2_ZX" through (19.05, 0, -25.4) normal (0, 1, 0) x (1, 0, 0)
ref_plane "profile1515_XY" through (0, 0, -25.4) normal (0, 0, 1) x (1, 0, 0)
ref_plane "profile1515_YZ" through (0, 0, -25.4) normal (1, 0, 0) x (0, 1, 0)
ref_plane "profile1515_ZX" through (0, 0, -25.4) normal (0, 1, 0) x (0, 0, 1)
properties part number "Extrusion 15 x 15 x 2"
